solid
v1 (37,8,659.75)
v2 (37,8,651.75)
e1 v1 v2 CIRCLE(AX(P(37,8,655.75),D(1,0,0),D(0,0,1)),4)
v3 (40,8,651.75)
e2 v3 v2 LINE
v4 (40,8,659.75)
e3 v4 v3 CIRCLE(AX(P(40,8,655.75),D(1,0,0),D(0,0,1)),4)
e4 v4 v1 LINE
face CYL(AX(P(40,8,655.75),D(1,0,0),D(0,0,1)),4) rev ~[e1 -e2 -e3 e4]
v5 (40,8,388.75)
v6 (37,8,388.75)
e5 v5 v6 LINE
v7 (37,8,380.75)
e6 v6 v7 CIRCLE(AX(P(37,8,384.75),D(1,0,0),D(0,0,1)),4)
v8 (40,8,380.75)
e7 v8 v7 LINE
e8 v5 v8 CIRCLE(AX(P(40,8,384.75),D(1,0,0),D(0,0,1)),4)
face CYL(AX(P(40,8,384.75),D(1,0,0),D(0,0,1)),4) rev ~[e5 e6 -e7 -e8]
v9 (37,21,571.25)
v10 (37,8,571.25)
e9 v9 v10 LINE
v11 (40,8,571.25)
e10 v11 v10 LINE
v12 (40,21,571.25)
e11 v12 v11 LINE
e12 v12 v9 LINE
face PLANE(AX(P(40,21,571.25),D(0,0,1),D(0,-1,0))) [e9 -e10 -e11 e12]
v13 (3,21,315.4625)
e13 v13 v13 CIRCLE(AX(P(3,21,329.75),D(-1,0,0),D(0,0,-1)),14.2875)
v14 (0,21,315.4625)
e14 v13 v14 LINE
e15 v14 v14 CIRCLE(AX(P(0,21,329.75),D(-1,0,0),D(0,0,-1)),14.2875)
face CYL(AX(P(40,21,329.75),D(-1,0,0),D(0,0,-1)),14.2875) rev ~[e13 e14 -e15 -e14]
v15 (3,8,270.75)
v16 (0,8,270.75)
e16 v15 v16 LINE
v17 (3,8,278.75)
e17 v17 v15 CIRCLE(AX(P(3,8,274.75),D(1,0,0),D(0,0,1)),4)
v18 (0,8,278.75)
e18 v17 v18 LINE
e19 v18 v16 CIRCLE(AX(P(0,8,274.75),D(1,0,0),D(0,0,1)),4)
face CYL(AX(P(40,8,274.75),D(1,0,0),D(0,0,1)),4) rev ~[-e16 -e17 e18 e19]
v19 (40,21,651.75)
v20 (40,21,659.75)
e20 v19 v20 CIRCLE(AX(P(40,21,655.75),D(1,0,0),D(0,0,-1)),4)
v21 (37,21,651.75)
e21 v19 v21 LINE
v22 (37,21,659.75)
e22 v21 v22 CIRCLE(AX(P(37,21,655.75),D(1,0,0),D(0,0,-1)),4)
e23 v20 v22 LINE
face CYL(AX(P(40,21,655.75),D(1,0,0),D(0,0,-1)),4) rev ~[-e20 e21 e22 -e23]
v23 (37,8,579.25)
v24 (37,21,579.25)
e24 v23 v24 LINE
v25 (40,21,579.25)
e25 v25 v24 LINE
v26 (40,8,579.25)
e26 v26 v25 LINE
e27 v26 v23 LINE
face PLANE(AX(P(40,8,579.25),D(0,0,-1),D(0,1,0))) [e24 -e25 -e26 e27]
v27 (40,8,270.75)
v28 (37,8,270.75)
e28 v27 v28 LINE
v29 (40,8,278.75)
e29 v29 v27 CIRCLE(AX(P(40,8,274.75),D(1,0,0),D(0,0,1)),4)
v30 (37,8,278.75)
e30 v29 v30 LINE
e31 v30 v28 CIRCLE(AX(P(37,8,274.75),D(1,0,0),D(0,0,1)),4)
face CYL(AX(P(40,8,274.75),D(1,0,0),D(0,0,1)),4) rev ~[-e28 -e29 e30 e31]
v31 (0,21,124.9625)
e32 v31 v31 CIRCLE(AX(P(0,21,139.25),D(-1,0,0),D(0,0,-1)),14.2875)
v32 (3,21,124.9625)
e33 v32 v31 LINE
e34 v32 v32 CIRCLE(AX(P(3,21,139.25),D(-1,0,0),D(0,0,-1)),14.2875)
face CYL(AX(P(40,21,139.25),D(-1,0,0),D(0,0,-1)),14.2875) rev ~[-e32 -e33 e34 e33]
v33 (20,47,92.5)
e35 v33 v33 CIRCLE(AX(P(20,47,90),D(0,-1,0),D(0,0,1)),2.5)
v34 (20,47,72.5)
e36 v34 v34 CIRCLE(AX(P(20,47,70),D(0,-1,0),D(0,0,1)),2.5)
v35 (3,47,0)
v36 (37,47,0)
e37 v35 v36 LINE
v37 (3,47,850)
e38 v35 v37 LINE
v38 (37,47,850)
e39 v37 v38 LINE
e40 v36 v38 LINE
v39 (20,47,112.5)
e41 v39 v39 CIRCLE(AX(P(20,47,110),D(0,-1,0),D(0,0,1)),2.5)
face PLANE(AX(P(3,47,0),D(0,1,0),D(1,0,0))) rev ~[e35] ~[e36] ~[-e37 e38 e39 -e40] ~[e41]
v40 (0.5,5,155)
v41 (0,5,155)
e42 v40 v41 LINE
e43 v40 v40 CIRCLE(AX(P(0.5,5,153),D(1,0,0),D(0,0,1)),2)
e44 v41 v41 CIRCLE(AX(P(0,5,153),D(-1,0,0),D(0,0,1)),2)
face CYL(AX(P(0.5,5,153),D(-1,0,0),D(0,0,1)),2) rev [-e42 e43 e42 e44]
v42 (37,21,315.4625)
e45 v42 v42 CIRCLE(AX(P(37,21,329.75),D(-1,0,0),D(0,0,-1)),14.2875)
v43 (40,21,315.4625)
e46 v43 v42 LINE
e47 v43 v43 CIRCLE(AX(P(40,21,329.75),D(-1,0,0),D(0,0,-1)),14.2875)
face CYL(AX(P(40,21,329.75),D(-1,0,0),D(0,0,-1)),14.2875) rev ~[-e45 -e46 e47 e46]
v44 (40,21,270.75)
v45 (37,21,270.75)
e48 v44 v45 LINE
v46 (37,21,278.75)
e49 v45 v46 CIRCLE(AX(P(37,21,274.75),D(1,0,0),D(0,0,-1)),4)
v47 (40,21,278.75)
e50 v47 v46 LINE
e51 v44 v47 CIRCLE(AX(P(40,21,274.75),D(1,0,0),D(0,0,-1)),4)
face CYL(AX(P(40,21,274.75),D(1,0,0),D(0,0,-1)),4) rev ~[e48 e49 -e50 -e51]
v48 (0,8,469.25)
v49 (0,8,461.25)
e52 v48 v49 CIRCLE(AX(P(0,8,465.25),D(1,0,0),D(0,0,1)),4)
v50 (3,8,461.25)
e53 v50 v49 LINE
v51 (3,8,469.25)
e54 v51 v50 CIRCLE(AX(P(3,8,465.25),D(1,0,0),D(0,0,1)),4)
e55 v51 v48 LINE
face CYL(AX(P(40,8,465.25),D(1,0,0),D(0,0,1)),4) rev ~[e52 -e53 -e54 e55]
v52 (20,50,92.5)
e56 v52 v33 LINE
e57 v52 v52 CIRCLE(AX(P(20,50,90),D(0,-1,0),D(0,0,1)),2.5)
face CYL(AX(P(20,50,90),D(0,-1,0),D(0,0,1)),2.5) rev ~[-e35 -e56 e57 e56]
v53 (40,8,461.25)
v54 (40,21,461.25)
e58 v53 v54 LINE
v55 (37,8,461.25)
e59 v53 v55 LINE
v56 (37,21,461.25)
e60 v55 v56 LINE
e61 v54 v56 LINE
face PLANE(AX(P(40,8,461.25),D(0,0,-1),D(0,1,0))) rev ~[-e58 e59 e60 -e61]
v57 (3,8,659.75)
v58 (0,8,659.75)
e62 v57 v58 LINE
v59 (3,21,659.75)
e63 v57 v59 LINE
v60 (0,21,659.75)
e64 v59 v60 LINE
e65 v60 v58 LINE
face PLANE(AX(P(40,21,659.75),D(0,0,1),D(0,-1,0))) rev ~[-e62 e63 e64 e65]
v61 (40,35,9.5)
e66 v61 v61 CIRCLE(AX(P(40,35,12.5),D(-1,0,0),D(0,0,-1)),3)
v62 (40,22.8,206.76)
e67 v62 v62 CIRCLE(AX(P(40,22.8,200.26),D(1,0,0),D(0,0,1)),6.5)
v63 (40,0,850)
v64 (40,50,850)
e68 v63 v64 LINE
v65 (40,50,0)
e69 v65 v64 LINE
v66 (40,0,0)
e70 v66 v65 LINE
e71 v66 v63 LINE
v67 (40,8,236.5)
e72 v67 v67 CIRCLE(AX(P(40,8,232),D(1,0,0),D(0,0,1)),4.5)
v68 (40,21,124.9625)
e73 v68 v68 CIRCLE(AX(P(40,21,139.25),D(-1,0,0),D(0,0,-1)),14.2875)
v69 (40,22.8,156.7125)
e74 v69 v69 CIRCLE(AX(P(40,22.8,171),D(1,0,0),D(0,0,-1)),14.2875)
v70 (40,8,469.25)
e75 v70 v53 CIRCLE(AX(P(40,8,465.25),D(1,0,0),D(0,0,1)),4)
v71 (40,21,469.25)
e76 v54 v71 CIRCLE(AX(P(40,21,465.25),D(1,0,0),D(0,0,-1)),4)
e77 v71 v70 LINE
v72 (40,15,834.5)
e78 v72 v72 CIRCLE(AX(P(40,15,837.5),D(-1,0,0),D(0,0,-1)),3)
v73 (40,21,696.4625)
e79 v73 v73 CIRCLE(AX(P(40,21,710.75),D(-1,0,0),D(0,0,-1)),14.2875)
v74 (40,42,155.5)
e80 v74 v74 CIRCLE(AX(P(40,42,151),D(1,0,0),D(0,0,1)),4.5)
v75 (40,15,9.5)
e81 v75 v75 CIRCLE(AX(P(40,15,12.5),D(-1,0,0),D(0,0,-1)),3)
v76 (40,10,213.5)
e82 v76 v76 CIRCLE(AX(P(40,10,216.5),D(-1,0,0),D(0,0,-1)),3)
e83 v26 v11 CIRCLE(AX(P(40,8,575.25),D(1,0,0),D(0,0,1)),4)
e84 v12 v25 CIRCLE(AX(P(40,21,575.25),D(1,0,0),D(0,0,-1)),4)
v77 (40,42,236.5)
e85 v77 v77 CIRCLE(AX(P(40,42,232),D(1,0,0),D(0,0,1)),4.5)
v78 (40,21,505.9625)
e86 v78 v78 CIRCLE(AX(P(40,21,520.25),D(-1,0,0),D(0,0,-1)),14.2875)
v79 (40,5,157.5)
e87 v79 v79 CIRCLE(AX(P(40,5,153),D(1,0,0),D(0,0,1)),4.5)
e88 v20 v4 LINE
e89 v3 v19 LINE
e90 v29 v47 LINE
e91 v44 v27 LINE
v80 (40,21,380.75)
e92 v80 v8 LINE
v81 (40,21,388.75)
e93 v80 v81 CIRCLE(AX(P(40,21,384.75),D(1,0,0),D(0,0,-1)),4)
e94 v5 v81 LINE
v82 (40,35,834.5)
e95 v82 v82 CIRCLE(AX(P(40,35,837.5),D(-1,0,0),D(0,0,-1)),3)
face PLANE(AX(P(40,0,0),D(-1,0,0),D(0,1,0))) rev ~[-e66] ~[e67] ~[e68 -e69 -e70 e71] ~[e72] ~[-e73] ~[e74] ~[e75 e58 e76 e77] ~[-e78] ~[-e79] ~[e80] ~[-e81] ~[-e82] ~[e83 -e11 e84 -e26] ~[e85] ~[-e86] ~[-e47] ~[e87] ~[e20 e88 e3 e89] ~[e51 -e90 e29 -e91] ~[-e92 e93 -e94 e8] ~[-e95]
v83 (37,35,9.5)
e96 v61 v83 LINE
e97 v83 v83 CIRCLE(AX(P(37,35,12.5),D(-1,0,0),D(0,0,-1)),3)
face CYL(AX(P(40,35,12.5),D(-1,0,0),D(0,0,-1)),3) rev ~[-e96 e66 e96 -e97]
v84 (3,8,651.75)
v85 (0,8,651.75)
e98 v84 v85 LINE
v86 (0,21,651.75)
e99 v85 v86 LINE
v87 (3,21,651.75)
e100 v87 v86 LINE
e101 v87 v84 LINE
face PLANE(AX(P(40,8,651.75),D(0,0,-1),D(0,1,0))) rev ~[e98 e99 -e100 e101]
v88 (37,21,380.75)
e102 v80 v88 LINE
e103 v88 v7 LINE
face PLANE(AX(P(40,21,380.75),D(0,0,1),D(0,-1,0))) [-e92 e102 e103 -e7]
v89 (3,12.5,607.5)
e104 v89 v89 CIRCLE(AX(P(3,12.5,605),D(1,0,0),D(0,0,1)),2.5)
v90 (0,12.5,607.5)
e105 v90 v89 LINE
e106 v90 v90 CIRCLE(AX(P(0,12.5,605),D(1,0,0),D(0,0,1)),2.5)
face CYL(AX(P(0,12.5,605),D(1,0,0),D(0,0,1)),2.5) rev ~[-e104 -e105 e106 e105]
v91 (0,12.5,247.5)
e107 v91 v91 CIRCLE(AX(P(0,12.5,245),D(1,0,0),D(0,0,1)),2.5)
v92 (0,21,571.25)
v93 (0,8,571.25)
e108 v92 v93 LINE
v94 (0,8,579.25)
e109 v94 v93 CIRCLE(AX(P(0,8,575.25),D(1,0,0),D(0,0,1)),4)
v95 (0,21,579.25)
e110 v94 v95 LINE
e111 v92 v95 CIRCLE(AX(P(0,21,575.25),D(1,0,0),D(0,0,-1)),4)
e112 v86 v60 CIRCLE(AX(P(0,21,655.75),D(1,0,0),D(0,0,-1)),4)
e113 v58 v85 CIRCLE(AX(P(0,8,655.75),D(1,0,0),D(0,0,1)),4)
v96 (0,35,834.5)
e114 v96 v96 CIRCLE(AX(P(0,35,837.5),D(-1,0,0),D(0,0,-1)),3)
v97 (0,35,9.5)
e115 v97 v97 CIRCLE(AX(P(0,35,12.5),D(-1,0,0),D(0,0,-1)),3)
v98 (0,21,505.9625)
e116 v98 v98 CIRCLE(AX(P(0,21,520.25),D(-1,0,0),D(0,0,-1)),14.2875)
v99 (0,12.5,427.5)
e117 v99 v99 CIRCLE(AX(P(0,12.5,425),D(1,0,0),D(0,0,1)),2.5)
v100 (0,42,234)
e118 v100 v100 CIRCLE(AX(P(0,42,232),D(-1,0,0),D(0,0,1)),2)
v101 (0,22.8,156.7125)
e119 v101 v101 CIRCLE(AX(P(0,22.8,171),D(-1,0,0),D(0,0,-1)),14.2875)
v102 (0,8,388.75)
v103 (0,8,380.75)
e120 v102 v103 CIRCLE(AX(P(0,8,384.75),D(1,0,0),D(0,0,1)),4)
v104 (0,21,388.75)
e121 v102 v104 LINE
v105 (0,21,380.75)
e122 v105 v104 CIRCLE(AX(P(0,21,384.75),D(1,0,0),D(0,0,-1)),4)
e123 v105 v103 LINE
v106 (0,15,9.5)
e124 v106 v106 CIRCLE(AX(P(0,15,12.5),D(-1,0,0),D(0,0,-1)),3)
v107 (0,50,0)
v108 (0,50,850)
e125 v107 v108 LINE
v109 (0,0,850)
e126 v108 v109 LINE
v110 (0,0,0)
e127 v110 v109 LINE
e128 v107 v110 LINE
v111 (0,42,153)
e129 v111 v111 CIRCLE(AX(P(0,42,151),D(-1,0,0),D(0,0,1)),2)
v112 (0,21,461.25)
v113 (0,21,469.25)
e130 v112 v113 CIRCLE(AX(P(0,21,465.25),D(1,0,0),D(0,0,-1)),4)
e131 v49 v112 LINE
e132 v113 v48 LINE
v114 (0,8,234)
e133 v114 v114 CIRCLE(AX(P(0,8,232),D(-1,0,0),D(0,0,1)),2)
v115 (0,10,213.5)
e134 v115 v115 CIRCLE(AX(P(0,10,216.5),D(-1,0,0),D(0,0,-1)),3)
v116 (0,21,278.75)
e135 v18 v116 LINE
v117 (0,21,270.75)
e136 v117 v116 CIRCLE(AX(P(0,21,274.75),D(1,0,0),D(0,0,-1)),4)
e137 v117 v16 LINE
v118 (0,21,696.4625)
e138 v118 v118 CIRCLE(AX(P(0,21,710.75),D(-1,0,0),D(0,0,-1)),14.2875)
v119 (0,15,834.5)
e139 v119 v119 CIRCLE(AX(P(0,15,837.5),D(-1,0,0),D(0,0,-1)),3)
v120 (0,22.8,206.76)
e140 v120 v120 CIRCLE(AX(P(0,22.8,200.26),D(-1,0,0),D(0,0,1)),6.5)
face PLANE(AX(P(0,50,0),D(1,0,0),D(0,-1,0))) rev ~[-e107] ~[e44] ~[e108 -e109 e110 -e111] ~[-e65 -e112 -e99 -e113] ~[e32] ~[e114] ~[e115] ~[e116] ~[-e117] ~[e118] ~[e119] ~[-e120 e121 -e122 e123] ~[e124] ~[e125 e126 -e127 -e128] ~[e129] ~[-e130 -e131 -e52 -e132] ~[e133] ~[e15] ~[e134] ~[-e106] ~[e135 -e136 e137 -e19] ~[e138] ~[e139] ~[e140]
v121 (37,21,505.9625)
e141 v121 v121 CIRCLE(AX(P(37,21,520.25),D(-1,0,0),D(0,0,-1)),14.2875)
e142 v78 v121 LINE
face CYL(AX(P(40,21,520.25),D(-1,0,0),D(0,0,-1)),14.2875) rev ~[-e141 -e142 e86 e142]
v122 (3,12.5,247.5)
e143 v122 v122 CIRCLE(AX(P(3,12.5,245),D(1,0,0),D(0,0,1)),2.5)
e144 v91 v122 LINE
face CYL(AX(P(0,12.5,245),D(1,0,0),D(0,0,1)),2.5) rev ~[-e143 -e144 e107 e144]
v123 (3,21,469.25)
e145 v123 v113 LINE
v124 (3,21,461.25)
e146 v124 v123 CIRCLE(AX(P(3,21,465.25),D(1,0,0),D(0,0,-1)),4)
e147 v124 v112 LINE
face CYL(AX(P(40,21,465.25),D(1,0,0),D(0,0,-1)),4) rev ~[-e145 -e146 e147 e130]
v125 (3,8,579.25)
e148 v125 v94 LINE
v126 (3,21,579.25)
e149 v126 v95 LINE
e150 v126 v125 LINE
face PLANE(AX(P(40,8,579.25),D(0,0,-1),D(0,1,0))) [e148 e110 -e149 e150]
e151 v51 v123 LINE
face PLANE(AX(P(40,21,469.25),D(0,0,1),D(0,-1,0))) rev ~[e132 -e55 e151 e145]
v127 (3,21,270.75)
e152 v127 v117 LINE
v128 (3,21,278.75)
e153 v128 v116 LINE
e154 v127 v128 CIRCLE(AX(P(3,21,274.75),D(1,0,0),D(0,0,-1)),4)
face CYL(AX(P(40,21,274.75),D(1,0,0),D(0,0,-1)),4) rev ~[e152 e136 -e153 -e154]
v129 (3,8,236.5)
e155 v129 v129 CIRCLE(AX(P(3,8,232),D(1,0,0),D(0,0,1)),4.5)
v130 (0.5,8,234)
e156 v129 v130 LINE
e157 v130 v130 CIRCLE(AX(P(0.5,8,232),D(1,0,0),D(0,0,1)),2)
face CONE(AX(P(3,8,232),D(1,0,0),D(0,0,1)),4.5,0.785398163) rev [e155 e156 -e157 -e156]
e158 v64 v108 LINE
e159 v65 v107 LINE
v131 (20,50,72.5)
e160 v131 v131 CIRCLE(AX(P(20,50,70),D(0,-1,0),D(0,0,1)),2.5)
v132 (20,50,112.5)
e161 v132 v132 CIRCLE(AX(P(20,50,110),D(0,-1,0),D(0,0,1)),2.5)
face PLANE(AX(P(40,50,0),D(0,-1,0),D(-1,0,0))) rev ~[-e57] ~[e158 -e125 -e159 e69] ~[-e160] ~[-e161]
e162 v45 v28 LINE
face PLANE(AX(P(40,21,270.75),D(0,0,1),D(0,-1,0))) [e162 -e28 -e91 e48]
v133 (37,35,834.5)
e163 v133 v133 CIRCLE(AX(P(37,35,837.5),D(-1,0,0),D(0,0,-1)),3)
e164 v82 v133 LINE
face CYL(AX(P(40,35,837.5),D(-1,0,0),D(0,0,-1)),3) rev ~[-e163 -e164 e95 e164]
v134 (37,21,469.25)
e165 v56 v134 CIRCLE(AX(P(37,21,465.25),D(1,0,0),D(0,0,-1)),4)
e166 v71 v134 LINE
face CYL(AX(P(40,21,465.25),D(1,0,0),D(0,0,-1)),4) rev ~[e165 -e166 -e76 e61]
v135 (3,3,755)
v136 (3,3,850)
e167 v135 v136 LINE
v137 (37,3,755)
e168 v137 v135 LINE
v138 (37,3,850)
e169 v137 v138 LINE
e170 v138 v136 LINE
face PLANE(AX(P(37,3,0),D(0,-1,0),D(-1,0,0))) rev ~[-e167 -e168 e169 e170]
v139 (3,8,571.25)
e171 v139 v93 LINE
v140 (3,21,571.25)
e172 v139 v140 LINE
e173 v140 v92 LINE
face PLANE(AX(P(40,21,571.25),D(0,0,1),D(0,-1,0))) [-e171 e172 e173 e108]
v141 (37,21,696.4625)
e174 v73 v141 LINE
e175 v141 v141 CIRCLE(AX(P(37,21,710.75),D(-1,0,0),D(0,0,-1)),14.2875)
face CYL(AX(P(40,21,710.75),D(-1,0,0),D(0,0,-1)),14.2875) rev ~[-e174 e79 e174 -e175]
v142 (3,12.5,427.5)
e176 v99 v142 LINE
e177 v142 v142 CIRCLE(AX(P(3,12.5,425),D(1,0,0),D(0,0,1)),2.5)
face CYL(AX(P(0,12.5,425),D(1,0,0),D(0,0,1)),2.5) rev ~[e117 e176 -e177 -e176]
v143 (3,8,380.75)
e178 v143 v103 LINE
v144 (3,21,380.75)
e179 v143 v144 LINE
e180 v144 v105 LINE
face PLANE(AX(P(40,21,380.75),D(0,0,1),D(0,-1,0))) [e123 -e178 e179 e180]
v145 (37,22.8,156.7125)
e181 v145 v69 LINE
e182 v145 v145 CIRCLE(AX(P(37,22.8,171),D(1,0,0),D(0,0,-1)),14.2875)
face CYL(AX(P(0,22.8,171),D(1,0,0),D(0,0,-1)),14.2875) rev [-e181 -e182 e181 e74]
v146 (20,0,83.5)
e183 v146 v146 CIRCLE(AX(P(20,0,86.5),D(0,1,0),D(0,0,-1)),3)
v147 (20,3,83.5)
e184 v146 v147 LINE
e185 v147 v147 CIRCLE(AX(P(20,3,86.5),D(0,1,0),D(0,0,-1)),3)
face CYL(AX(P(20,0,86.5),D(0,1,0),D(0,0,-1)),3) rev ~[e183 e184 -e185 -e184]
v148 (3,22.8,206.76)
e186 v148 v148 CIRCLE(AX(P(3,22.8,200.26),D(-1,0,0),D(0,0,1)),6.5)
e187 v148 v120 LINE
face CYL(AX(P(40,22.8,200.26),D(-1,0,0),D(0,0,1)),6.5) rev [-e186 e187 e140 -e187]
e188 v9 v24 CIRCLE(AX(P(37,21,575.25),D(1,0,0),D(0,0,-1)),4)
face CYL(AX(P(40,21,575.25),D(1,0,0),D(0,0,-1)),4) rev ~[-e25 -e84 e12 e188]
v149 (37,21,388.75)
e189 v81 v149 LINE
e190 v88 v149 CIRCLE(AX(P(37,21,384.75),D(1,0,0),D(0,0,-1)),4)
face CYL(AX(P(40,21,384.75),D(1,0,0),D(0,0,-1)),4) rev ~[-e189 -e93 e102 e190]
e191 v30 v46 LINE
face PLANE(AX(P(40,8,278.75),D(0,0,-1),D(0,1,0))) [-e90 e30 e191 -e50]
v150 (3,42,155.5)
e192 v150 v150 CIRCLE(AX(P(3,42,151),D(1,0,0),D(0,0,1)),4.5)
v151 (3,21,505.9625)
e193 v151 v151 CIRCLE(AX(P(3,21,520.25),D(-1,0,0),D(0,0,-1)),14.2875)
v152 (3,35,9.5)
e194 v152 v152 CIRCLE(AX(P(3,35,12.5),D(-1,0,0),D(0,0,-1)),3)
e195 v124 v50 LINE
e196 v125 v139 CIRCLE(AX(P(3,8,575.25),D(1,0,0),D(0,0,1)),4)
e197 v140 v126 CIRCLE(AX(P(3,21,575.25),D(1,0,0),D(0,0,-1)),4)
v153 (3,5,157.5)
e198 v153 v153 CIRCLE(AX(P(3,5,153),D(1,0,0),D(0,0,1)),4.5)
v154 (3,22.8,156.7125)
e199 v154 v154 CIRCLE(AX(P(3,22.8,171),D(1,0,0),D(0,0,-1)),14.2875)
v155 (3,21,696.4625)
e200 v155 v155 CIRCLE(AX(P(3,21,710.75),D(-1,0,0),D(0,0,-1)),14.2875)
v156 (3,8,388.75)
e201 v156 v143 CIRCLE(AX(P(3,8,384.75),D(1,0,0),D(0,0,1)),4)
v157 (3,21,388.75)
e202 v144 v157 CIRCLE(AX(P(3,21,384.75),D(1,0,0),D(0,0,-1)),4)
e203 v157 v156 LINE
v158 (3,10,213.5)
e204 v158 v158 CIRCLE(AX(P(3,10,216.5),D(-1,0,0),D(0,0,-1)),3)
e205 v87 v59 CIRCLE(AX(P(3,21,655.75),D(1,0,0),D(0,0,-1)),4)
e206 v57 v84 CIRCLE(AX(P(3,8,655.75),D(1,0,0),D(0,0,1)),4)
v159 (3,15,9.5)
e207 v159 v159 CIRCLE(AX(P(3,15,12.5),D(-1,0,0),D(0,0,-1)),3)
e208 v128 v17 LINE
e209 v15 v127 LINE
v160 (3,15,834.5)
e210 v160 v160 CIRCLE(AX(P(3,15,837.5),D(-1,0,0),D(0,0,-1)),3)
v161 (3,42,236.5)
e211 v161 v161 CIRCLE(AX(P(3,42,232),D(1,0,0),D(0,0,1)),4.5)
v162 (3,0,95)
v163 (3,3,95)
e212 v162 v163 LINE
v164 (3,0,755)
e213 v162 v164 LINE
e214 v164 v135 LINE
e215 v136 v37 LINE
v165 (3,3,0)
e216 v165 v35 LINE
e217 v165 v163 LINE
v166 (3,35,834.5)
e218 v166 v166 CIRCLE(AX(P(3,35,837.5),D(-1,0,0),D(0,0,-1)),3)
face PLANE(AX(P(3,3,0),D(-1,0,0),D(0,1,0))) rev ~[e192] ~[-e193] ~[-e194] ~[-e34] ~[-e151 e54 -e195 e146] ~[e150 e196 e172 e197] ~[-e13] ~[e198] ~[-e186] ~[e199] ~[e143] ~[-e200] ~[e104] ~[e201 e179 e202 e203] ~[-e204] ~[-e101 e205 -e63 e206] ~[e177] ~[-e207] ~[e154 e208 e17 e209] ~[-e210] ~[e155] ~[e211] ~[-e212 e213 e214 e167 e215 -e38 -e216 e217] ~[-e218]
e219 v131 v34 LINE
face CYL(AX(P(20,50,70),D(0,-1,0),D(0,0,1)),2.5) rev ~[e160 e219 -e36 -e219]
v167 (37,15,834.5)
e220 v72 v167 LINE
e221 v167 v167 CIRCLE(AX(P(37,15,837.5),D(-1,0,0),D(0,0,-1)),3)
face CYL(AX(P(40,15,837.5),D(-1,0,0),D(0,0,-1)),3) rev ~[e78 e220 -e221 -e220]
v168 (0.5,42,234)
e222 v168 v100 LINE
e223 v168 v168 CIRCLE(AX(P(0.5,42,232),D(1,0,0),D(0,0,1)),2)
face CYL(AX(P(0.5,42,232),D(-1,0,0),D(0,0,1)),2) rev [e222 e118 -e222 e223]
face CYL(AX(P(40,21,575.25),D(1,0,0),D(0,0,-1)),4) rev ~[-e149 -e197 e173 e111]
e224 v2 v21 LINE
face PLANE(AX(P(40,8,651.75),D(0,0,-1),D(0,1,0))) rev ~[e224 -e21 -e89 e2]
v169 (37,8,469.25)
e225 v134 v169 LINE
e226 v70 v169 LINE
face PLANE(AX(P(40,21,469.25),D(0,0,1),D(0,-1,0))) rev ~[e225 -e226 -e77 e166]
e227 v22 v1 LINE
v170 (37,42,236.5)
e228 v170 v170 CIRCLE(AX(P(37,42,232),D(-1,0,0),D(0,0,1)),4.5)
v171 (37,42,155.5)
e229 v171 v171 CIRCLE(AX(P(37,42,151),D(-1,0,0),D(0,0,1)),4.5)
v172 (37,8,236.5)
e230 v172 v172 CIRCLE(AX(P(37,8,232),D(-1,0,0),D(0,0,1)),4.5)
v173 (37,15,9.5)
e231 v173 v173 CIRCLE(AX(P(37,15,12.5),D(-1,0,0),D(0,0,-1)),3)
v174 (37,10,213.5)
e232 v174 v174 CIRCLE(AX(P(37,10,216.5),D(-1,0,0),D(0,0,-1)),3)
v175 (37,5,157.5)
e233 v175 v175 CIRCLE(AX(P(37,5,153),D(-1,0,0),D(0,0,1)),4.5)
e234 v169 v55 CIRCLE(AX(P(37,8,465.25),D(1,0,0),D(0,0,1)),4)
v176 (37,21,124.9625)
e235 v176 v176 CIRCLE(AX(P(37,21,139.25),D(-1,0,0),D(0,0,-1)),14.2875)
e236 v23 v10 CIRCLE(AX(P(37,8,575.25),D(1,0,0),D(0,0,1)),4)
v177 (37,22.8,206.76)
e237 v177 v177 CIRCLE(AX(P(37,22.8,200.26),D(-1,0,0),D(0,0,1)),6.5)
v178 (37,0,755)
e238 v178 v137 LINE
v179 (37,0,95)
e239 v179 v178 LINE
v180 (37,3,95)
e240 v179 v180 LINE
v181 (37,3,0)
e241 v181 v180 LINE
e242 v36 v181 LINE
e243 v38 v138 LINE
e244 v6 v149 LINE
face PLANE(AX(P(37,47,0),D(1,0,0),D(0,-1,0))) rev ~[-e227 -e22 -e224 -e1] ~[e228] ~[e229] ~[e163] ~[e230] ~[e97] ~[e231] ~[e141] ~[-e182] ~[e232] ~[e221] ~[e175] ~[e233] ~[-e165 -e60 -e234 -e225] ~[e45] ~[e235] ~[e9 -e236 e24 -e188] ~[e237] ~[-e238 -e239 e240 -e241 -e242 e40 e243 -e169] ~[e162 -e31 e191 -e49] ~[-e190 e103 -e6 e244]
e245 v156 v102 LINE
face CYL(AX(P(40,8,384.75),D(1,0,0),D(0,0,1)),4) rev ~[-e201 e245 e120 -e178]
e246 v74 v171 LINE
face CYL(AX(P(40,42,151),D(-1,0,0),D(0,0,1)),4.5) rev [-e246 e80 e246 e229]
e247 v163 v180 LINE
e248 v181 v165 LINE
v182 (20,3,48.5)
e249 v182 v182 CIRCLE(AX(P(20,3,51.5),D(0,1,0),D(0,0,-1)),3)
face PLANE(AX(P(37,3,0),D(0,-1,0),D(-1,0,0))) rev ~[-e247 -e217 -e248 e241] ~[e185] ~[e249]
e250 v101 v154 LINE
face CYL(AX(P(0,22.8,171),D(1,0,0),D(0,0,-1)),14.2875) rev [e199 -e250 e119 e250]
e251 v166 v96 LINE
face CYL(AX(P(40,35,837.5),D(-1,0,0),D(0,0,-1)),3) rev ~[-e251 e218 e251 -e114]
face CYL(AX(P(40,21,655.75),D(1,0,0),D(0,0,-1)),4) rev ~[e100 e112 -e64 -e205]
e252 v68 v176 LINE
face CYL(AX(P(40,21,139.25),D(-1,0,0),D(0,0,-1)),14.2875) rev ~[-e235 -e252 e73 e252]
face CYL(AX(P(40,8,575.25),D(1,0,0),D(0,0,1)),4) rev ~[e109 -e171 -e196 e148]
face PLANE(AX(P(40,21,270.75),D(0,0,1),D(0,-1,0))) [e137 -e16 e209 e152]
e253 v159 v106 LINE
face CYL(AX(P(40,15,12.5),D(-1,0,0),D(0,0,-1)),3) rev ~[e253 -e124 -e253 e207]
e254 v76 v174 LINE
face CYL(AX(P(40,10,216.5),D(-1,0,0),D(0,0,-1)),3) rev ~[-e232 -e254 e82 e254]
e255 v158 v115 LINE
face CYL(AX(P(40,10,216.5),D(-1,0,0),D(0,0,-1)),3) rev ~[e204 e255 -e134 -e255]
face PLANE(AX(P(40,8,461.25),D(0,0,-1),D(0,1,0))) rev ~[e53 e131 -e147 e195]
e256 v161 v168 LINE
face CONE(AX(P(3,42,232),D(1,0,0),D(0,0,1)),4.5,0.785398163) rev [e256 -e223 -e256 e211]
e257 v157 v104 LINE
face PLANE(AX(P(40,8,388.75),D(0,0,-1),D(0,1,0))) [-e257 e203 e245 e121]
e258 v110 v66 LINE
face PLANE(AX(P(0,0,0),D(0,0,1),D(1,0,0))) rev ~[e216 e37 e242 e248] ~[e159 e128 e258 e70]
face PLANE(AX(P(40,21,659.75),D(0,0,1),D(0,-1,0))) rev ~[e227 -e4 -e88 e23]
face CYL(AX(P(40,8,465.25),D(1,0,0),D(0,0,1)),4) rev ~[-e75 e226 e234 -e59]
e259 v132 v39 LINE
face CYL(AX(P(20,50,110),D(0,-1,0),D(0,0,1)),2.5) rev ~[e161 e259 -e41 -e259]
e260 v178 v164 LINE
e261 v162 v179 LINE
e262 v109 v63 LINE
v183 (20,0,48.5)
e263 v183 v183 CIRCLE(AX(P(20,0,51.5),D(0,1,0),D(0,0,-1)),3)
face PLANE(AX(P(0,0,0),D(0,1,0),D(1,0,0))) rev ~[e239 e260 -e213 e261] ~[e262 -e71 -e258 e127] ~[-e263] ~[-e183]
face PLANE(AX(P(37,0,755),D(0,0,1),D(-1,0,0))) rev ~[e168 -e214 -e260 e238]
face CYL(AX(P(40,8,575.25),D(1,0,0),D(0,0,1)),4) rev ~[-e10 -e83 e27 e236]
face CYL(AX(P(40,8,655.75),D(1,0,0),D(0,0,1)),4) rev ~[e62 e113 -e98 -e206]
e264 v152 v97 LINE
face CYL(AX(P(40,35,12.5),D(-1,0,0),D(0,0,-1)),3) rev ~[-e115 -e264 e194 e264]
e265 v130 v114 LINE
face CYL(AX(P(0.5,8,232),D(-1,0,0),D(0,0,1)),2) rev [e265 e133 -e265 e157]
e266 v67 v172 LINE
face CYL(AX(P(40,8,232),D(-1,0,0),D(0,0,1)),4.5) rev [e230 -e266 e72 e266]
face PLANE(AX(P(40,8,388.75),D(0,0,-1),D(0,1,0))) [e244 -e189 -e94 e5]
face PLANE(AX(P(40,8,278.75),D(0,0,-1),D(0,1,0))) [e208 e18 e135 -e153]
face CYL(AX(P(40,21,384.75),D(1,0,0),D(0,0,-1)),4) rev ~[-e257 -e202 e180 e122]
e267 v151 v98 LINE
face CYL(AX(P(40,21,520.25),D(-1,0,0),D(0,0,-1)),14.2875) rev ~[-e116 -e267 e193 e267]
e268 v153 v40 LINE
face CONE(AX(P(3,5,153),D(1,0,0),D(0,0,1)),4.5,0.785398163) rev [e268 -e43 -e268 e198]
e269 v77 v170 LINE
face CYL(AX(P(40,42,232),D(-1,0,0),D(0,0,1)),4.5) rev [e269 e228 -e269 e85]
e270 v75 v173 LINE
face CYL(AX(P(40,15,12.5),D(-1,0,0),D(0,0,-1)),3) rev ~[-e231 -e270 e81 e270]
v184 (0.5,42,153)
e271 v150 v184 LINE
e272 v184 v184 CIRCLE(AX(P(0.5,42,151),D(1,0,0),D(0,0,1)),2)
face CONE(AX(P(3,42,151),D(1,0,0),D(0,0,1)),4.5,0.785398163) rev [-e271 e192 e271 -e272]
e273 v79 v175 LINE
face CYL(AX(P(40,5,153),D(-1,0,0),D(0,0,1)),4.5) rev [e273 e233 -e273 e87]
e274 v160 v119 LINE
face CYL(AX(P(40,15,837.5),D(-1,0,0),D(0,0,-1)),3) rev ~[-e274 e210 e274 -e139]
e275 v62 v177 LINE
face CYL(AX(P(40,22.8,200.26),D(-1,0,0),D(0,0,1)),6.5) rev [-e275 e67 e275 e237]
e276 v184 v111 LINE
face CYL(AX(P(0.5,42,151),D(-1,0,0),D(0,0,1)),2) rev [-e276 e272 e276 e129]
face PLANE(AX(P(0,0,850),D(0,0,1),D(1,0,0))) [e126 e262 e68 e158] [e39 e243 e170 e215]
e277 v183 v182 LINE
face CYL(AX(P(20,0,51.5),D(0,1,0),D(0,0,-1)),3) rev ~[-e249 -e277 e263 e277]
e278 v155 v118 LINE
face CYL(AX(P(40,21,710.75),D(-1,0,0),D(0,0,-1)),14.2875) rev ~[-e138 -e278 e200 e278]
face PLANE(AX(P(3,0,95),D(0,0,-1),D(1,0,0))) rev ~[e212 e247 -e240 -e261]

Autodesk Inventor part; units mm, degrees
ref_plane "YZ Plane" through (0, 0, 0) normal (1, 0, 0) x (0, 1, 0)
ref_plane "XZ Plane" through (0, 0, 0) normal (0, 1, 0) x (-1, 0, 0)
sketch "Sketch1" plane through (0, 0, 0) normal (0, 0, 1) x (1, 0, 0)
  line L0 (0, 0) -> (40, 0)
  line L1 (40, 0) -> (40, 50)
  line L2 (40, 50) -> (0, 50)
  line L3 (0, 50) -> (0, 0)
  line L4 (37, 47) -> (37, 3)
  line L5 (37, 3) -> (3, 3)
  line L6 (3, 3) -> (3, 47)
  line L7 (3, 47) -> (37, 47)
  dimension "d0" = 40
  dimension "d1" = 50
  dimension "d2" = 3
extrude "Extrusion1" add sketch "Sketch1" along normal blind 850
sketch "Sketch2" plane through (40, 0, 0) normal (1, 0, 0) x (0, 0, -1)
  line L0 (0, 0) -> (0, 50) projected
  line L1 (0, 50) -> (-850, 50) projected
  line L2 (-850, 0) -> (-850, 50) projected
  line L3 (0, 0) -> (-850, 0) projected
  point P0 (-710.75, 21)
  point P1 (-520.25, 21)
  point P2 (-329.75, 21)
  point P3 (-139.25, 21)
  dimension "d5" = 190.5
  dimension "d6" = 190.5
  dimension "d7" = 190.5
  dimension "d8" = 850
  dimension "d9" = 139.25
  dimension "d10" = 21
hole "Hole1" at (40, 21, 710.75) at (40, 21, 520.25) at (40, 21, 329.75) at (40, 21, 139.25) direction (-1, 0, 0) diameter 28.575 end through all
sketch "Sketch3" plane through (0, 0, 0) normal (0, -1, 0) x (1, 0, 0)
  line L0 (37, 0) -> (37, 850) projected
  line L1 (3, 0) -> (3, 850) projected
  line L2 (37, 755) -> (3, 755)
  line L3 (3, 755) -> (3, 95)
  line L4 (3, 95) -> (37, 95)
  line L5 (37, 95) -> (37, 755)
  line L6 (40, 725.0375) -> (40, 696.4625) projected
  line L7 (40, 0) -> (40, 850) projected
  line L8 (0, 850) -> (40, 850) projected
  line L9 (0, 0) -> (40, 0) projected
  point P0 (40, 710.75)
  point P1 (37, 95)
  point P2 (3, 755)
  dimension "d18" = 28.575
  dimension "d19" = 14.2875
  dimension "d22" = 95
  dimension "d23" = 95
extrude "Extrusion2" cut sketch "Sketch3" against normal blind 3 contours L4 L1 L2 L0
sketch "Sketch4" plane through (40, 0, 0) normal (1, 0, 0) x (0, 0, -1)
  line L0 (-842.1969, 39.5285) -> (-10.8553, 39.5285)
  line L1 (-10.8553, 39.5285) -> (-10.8553, 6.7172)
  line L2 (-10.8553, 6.7172) -> (-842.1969, 6.7172)
  line L3 (-842.1969, 6.7172) -> (-842.1969, 39.5285)
  point P0 (0, 0)
extrude "Extrusion3" [suppressed]
sketch "Sketch5" plane through (0, 0, 0) normal (-1, 0, 0) x (0, 0, 1)
  line L0 (0, 50) -> (0, 0) projected
  line L1 (0, 0) -> (850, 0) projected
  circle A0 centre (710.75, 21) radius 14.2875 projected
  circle A1 centre (139.25, 21) radius 14.2875 projected
  circle A2 centre (329.75, 21) radius 14.2875 projected
  circle A3 centre (520.25, 21) radius 14.2875 projected
  line L2 (0, 0) -> (0, 50) projected
  line L3 (0, 50) -> (850, 50) projected
  line L4 (850, 0) -> (850, 50) projected
  line L5 (0, 0) -> (850, 0) projected
  line L6 (139.25, 21) -> (107.5, 22.8)
  dimension "d37" = 31.801
  dimension "d39" = 107.5
  dimension "d41" = 22.8
hole "Hole2" at (0, 22.8, 107.5) direction (1, 0, 0) diameter 28.575 end through all
sketch "Sketch6" plane through (40, 0, 0) normal (1, 0, 0) x (0, 0, -1)
  circle A0 centre (-107.5, 22.8) radius 14.2875 projected
  circle A1 centre (-329.75, 21) radius 14.2875 projected
  circle A2 centre (-710.75, 21) radius 14.2875 projected
  circle A3 centre (-520.25, 21) radius 14.2875 projected
  circle A4 centre (-139.25, 21) radius 14.2875 projected
  line L0 (0, 3) -> (0, 47) projected
  line L1 (0, 47) -> (-850, 47) projected
  line L2 (-850, 3) -> (-850, 47) projected
  line L3 (-755, 3) -> (-850, 3) projected
  line L4 (-755, 0) -> (-755, 3) projected
  line L5 (-95, 0) -> (-755, 0) projected
  line L6 (-95, 0) -> (-95, 3) projected
  line L7 (0, 3) -> (-95, 3) projected
  point P0 (0, 0)
  point P1 (-78.24, 22.8)
  dimension "d42" = 29.26
hole "Hole3" at (40, 22.8, 78.24) direction (-1, 0, 0) diameter 13 end through all
sketch "Sketch9" plane through (40, 0, 0) normal (1, 0, 0) x (0, 0, -1)
  point P0 (0, 0)
  point P1 (-127.5, 42)
  point P2 (-46.5, 42)
  point P3 (-46.5, 8)
  point P4 (-125.5, 5)
  dimension "d78" = 5
  dimension "d79" = 8
  dimension "d80" = 42
  dimension "d81" = 46.5
  dimension "d82" = 81
  dimension "d83" = 79
hole "Hole7" at (40, 42, 127.5) at (40, 42, 46.5) at (40, 8, 46.5) at (40, 5, 125.5) direction (-1, 0, 0) diameter 9 depth 8 tip angle 118
sketch "Sketch10" plane through (3, 3, 0) normal (1, 0, 0) x (0, 0, -1)
  circle A0 centre (-125.5, 2) radius 4.5 projected
  circle A1 centre (-127.5, 39) radius 4.5 projected
  circle A2 centre (-46.5, 39) radius 4.5 projected
  circle A3 centre (-46.5, 5) radius 4.5 projected
  point P0 (0, -3)
hole "Hole8" at (3, 5, 125.5) at (3, 42, 127.5) at (3, 42, 46.5) at (3, 8, 46.5) direction (-1, 0, 0) diameter 4 end through all countersink diameter 9 countersink angle 90
sketch "Sketch11" plane through (0, 0, 0) normal (0, -1, 0) x (1, 0, 0)
  point P0 (0, 0)
  point P1 (20, 51.5)
  point P2 (20, 86.5)
  dimension "d98" = 35
  dimension "d99" = 51.5
  dimension "d100" = 20
hole "Hole9" at (20, 0, 51.5) at (20, 0, 86.5) direction (0, 1, 0) diameter 6 depth 8 tip angle 118
sketch "Sketch12" plane through (40, 0, 0) normal (1, 0, 0) x (0, 0, -1)
  point P0 (0, 0)
  point P1 (-12.5, 15)
  point P2 (-12.5, 35)
  point P3 (-837.5, 35)
  point P4 (-837.5, 15)
  dimension "d108" = 12.5
  dimension "d109" = 35
  dimension "d110" = 15
  dimension "d111" = 837.5
hole "Hole10" at (40, 15, 12.5) at (40, 35, 12.5) at (40, 35, 837.5) at (40, 15, 837.5) direction (-1, 0, 0) diameter 6 end through all
sketch "Sketch13" plane through (0, 0, 0) normal (-1, 0, 0) x (0, 0, 1)
  line L0 (0, 0) -> (850, 0) projected
  point P0 (245, 12.5)
  point P1 (425, 12.5)
  point P2 (605, 12.5)
  dimension "d119" = 180
  dimension "d120" = 180
  dimension "d121" = 12.5
  dimension "d122" = 425
hole "Hole11" at (0, 12.5, 245) at (0, 12.5, 425) at (0, 12.5, 605) direction (1, 0, 0) diameter 5 depth 8 tip angle 118
sketch "Sketch14" plane through (40, 0, 0) normal (1, 0, 0) x (0, 0, -1)
  line L0 (-655.75, 21) -> (-655.75, 8) construction
  line L1 (-659.75, 21) -> (-659.75, 8)
  line L2 (-651.75, 8) -> (-651.75, 21)
  arc A0 (-651.75, 21) -> (-659.75, 21) centre (-655.75, 21) ccw
  arc A1 (-659.75, 8) -> (-651.75, 8) centre (-655.75, 8) ccw
  line L3 (0, 0) -> (-850, 0) projected
  circle A2 centre (-837.5, 35) radius 3 projected
  circle A3 centre (-12.5, 15) radius 3 projected
  circle A4 centre (-12.5, 35) radius 3 projected
  circle A5 centre (-837.5, 15) radius 3 projected
  circle A6 centre (-46.5, 8) radius 4.5 projected
  circle A7 centre (-127.5, 42) radius 4.5 projected
  circle A8 centre (-46.5, 42) radius 4.5 projected
  circle A9 centre (-125.5, 5) radius 4.5 projected
  circle A10 centre (-78.24, 22.8) radius 6.5 projected
  circle A11 centre (-107.5, 22.8) radius 14.2875 projected
  circle A12 centre (-329.75, 21) radius 14.2875 projected
  circle A13 centre (-710.75, 21) radius 14.2875 projected
  circle A14 centre (-520.25, 21) radius 14.2875 projected
  circle A15 centre (-139.25, 21) radius 14.2875 projected
  line L4 (0, 0) -> (0, 50) projected
  line L5 (0, 50) -> (-850, 50) projected
  line L6 (-850, 0) -> (-850, 50) projected
  line L7 (0, 0) -> (-850, 0) projected
  line L8 (-575.25, 21) -> (-575.25, 8) construction
  line L9 (-571.25, 21) -> (-571.25, 8)
  line L10 (-579.25, 8) -> (-579.25, 21)
  arc A16 (-571.25, 21) -> (-579.25, 21) centre (-575.25, 21) ccw
  arc A17 (-579.25, 8) -> (-571.25, 8) centre (-575.25, 8) ccw
  line L11 (-465.25, 8) -> (-465.25, 21) construction
  line L12 (0, 47) -> (-850, 47) projected
  line L13 (-461.25, 8) -> (-461.25, 21)
  line L14 (-469.25, 21) -> (-469.25, 8)
  arc A18 (-469.25, 8) -> (-461.25, 8) centre (-465.25, 8) ccw
  arc A19 (-461.25, 21) -> (-469.25, 21) centre (-465.25, 21) ccw
  line L15 (-384.75, 8) -> (-384.75, 21) construction
  line L16 (-388.75, 8) -> (-388.75, 21)
  line L17 (-380.75, 21) -> (-380.75, 8)
  arc A20 (-388.75, 8) -> (-380.75, 8) centre (-384.75, 8) ccw
  arc A21 (-380.75, 21) -> (-388.75, 21) centre (-384.75, 21) ccw
  line L18 (-274.75, 21) -> (-274.75, 8) construction
  line L19 (-270.75, 21) -> (-270.75, 8)
  line L20 (-278.75, 8) -> (-278.75, 21)
  arc A22 (-270.75, 21) -> (-278.75, 21) centre (-274.75, 21) ccw
  arc A23 (-278.75, 8) -> (-270.75, 8) centre (-274.75, 8) ccw
  line L21 (-194.25, 21) -> (-194.25, 8) construction
  line L22 (-190.25, 21) -> (-190.25, 8)
  line L23 (-198.25, 8) -> (-198.25, 21)
  arc A24 (-190.25, 21) -> (-198.25, 21) centre (-194.25, 21) ccw
  arc A25 (-198.25, 8) -> (-190.25, 8) centre (-194.25, 8) ccw
  point P0 (-655.75, 14.5)
  point P1 (-575.25, 14.5)
  point P2 (-465.25, 14.5)
  point P3 (-384.75, 14.5)
  point P4 (-274.75, 14.5)
  point P5 (-194.25, 14.5)
  dimension "d130" = 8
  dimension "d131" = 8
  dimension "d132" = 21
  dimension "d133" = 55
  dimension "d134" = 55
  dimension "d135" = 55
  dimension "d136" = 55
  dimension "d137" = 55
  dimension "d138" = 55
extrude "Extrusion4" cut sketch "Sketch14" against normal through all contours A0 L2 A1 L1 | L9 A17 L10 A16 | A18 L14 A19 L13 | L16 A21 L17 A20 | L19 A23 L20 A22
ref_plane "Work Plane1" through (0, 0, 139.25) normal (0, 0, -1) x (-1, 0, 0)
mirror "Two Motors" about plane through (0, 0, 139.25) normal (0, 0, -1) of "Hole2", "Hole3", "Hole7", "Hole8"
sketch "Sketch16" plane through (40, 0, 0) normal (1, 0, 0) x (0, 0, -1)
  point P0 (0, 0)
  point P1 (-216.5, 10)
  dimension "d144" = 216.5
  dimension "d145" = 10
hole "Two Motors b" at (40, 10, 216.5) direction (-1, 0, 0) diameter 6 end through all
sketch "Sketch18" plane through (40, 0, 0) normal (1, 0, 0) x (0, 0, -1)
  circle A0 centre (-216.5, 10) radius 3 projected
  circle A1 centre (-153, 5) radius 4.5 projected
  circle A2 centre (-232, 42) radius 4.5 projected
  circle A3 centre (-151, 42) radius 4.5 projected
  circle A4 centre (-232, 8) radius 4.5 projected
  circle A5 centre (-171, 22.8) radius 14.2875 projected
  circle A6 centre (-200.26, 22.8) radius 6.5 projected
  line L0 (-469.25, 8) -> (-469.25, 21) projected
  arc A7 (-461.25, 21) -> (-469.25, 21) centre (-465.25, 21) ccw projected
  line L1 (-461.25, 21) -> (-461.25, 8) projected
  arc A8 (-469.25, 8) -> (-461.25, 8) centre (-465.25, 8) ccw projected
  arc A9 (-388.75, 8) -> (-380.75, 8) centre (-384.75, 8) ccw projected
  line L2 (-388.75, 8) -> (-388.75, 21) projected
  arc A10 (-380.75, 21) -> (-388.75, 21) centre (-384.75, 21) ccw projected
  line L3 (-380.75, 21) -> (-380.75, 8) projected
  arc A11 (-571.25, 21) -> (-579.25, 21) centre (-575.25, 21) ccw projected
  line L4 (-571.25, 21) -> (-571.25, 8) projected
  arc A12 (-579.25, 8) -> (-571.25, 8) centre (-575.25, 8) ccw projected
  line L5 (-579.25, 8) -> (-579.25, 21) projected
  arc A13 (-270.75, 21) -> (-278.75, 21) centre (-274.75, 21) ccw projected
  line L6 (-270.75, 21) -> (-270.75, 8) projected
  arc A14 (-278.75, 8) -> (-270.75, 8) centre (-274.75, 8) ccw projected
  line L7 (-278.75, 8) -> (-278.75, 21) projected
  line L8 (-651.75, 21) -> (-651.75, 8) projected
  arc A15 (-659.75, 8) -> (-651.75, 8) centre (-655.75, 8) ccw projected
  line L9 (-659.75, 8) -> (-659.75, 21) projected
  arc A16 (-651.75, 21) -> (-659.75, 21) centre (-655.75, 21) ccw projected
  circle A17 centre (-837.5, 35) radius 3 projected
  circle A18 centre (-12.5, 15) radius 3 projected
  circle A19 centre (-12.5, 35) radius 3 projected
  circle A20 centre (-837.5, 15) radius 3 projected
  circle A21 centre (-46.5, 8) radius 4.5 projected
  circle A22 centre (-127.5, 42) radius 4.5 projected
  circle A23 centre (-46.5, 42) radius 4.5 projected
  circle A24 centre (-125.5, 5) radius 4.5 projected
  circle A25 centre (-78.24, 22.8) radius 6.5 projected
  circle A26 centre (-107.5, 22.8) radius 14.2875 projected
  circle A27 centre (-329.75, 21) radius 14.2875 projected
  circle A28 centre (-710.75, 21) radius 14.2875 projected
  circle A29 centre (-520.25, 21) radius 14.2875 projected
  circle A30 centre (-139.25, 21) radius 14.2875 projected
  line L10 (0, 0) -> (0, 50) projected
  line L11 (0, 50) -> (-850, 50) projected
  line L12 (-850, 0) -> (-850, 50) projected
  line L13 (0, 0) -> (-850, 0) projected
extrude "Extrusion6" add sketch "Sketch18" against normal blind 3 contours A21 | A22 | A23 | A24 | A25 | A26
sketch "Sketch19" plane through (3, 3, 0) normal (1, 0, 0) x (0, 0, -1)
  circle A0 centre (-216.5, 7) radius 3 projected
  circle A1 centre (-153, 2) radius 4.5 projected
  circle A2 centre (-151, 39) radius 4.5 projected
  circle A3 centre (-232, 5) radius 4.5 projected
  circle A4 centre (-232, 39) radius 4.5 projected
  circle A5 centre (-171, 19.8) radius 14.2875 projected
  circle A6 centre (-200.26, 19.8) radius 6.5 projected
  line L0 (-469.25, 5) -> (-469.25, 18) projected
  arc A7 (-461.25, 18) -> (-469.25, 18) centre (-465.25, 18) ccw projected
  line L1 (-461.25, 18) -> (-461.25, 5) projected
  arc A8 (-469.25, 5) -> (-461.25, 5) centre (-465.25, 5) ccw projected
  arc A9 (-388.75, 5) -> (-380.75, 5) centre (-384.75, 5) ccw projected
  line L2 (-388.75, 5) -> (-388.75, 18) projected
  arc A10 (-380.75, 18) -> (-388.75, 18) centre (-384.75, 18) ccw projected
  line L3 (-380.75, 18) -> (-380.75, 5) projected
  arc A11 (-571.25, 18) -> (-579.25, 18) centre (-575.25, 18) ccw projected
  line L4 (-571.25, 18) -> (-571.25, 5) projected
  arc A12 (-579.25, 5) -> (-571.25, 5) centre (-575.25, 5) ccw projected
  line L5 (-579.25, 5) -> (-579.25, 18) projected
  arc A13 (-270.75, 18) -> (-278.75, 18) centre (-274.75, 18) ccw projected
  line L6 (-270.75, 18) -> (-270.75, 5) projected
  arc A14 (-278.75, 5) -> (-270.75, 5) centre (-274.75, 5) ccw projected
  line L7 (-278.75, 5) -> (-278.75, 18) projected
  line L8 (-651.75, 18) -> (-651.75, 5) projected
  arc A15 (-659.75, 5) -> (-651.75, 5) centre (-655.75, 5) ccw projected
  line L9 (-659.75, 5) -> (-659.75, 18) projected
  arc A16 (-651.75, 18) -> (-659.75, 18) centre (-655.75, 18) ccw projected
  circle A17 centre (-425, 9.5) radius 2.5 projected
  circle A18 centre (-245, 9.5) radius 2.5 projected
  circle A19 centre (-605, 9.5) radius 2.5 projected
  circle A20 centre (-837.5, 32) radius 3 projected
  circle A21 centre (-12.5, 12) radius 3 projected
  circle A22 centre (-12.5, 32) radius 3 projected
  circle A23 centre (-837.5, 12) radius 3 projected
  circle A24 centre (-46.5, 39) radius 4.5 projected
  circle A25 centre (-125.5, 2) radius 4.5 projected
  circle A26 centre (-127.5, 39) radius 4.5 projected
  circle A27 centre (-46.5, 5) radius 4.5 projected
  circle A28 centre (-78.24, 19.8) radius 6.5 projected
  circle A29 centre (-107.5, 19.8) radius 14.2875 projected
  circle A30 centre (-329.75, 18) radius 14.2875 projected
  circle A31 centre (-710.75, 18) radius 14.2875 projected
  circle A32 centre (-520.25, 18) radius 14.2875 projected
  circle A33 centre (-139.25, 18) radius 14.2875 projected
  line L10 (0, 0) -> (0, 44) projected
  line L11 (0, 44) -> (-850, 44) projected
  line L12 (-850, 0) -> (-850, 44) projected
  line L13 (-755, 0) -> (-850, 0) projected
  line L14 (-755, -3) -> (-755, 0) projected
  line L15 (-95, -3) -> (-755, -3) projected
  line L16 (-95, -3) -> (-95, 0) projected
  line L17 (0, 0) -> (-95, 0) projected
  point P0 (0, -3)
extrude "Extrusion7" add sketch "Sketch19" against normal blind 3 contours A24 | A25 | A26 | A27 | A28 | A29
sketch "Sketch20" plane through (0, 50, 0) normal (0, 1, 0) x (1, 0, 0)
  point P0 (0, 0)
  point P1 (20, -110)
  point P2 (20, -90)
  point P3 (20, -70)
  dimension "d168" = 70
  dimension "d169" = 20
  dimension "d170" = 20
  dimension "d171" = 20
hole "Hole14" at (20, 50, 110) at (20, 50, 90) at (20, 50, 70) direction (0, -1, 0) diameter 5 depth 8 tip angle 118
equation "\"d6\" = d5"
equation "\"d7\" = d5"
equation "\"d9\" = -1.5 * d5 + 0.5 * d8"
equation "\"d19\" = 0.5 * d18"
equation "\"d120\" = d119"
equation "\"d134\" = d133"
equation "\"d135\" = d133"
equation "\"d136\" = d133"
equation "\"d137\" = d133"
equation "\"d138\" = d133"
equation "\"d170\" = d169"
properties part number "Left Frame"
